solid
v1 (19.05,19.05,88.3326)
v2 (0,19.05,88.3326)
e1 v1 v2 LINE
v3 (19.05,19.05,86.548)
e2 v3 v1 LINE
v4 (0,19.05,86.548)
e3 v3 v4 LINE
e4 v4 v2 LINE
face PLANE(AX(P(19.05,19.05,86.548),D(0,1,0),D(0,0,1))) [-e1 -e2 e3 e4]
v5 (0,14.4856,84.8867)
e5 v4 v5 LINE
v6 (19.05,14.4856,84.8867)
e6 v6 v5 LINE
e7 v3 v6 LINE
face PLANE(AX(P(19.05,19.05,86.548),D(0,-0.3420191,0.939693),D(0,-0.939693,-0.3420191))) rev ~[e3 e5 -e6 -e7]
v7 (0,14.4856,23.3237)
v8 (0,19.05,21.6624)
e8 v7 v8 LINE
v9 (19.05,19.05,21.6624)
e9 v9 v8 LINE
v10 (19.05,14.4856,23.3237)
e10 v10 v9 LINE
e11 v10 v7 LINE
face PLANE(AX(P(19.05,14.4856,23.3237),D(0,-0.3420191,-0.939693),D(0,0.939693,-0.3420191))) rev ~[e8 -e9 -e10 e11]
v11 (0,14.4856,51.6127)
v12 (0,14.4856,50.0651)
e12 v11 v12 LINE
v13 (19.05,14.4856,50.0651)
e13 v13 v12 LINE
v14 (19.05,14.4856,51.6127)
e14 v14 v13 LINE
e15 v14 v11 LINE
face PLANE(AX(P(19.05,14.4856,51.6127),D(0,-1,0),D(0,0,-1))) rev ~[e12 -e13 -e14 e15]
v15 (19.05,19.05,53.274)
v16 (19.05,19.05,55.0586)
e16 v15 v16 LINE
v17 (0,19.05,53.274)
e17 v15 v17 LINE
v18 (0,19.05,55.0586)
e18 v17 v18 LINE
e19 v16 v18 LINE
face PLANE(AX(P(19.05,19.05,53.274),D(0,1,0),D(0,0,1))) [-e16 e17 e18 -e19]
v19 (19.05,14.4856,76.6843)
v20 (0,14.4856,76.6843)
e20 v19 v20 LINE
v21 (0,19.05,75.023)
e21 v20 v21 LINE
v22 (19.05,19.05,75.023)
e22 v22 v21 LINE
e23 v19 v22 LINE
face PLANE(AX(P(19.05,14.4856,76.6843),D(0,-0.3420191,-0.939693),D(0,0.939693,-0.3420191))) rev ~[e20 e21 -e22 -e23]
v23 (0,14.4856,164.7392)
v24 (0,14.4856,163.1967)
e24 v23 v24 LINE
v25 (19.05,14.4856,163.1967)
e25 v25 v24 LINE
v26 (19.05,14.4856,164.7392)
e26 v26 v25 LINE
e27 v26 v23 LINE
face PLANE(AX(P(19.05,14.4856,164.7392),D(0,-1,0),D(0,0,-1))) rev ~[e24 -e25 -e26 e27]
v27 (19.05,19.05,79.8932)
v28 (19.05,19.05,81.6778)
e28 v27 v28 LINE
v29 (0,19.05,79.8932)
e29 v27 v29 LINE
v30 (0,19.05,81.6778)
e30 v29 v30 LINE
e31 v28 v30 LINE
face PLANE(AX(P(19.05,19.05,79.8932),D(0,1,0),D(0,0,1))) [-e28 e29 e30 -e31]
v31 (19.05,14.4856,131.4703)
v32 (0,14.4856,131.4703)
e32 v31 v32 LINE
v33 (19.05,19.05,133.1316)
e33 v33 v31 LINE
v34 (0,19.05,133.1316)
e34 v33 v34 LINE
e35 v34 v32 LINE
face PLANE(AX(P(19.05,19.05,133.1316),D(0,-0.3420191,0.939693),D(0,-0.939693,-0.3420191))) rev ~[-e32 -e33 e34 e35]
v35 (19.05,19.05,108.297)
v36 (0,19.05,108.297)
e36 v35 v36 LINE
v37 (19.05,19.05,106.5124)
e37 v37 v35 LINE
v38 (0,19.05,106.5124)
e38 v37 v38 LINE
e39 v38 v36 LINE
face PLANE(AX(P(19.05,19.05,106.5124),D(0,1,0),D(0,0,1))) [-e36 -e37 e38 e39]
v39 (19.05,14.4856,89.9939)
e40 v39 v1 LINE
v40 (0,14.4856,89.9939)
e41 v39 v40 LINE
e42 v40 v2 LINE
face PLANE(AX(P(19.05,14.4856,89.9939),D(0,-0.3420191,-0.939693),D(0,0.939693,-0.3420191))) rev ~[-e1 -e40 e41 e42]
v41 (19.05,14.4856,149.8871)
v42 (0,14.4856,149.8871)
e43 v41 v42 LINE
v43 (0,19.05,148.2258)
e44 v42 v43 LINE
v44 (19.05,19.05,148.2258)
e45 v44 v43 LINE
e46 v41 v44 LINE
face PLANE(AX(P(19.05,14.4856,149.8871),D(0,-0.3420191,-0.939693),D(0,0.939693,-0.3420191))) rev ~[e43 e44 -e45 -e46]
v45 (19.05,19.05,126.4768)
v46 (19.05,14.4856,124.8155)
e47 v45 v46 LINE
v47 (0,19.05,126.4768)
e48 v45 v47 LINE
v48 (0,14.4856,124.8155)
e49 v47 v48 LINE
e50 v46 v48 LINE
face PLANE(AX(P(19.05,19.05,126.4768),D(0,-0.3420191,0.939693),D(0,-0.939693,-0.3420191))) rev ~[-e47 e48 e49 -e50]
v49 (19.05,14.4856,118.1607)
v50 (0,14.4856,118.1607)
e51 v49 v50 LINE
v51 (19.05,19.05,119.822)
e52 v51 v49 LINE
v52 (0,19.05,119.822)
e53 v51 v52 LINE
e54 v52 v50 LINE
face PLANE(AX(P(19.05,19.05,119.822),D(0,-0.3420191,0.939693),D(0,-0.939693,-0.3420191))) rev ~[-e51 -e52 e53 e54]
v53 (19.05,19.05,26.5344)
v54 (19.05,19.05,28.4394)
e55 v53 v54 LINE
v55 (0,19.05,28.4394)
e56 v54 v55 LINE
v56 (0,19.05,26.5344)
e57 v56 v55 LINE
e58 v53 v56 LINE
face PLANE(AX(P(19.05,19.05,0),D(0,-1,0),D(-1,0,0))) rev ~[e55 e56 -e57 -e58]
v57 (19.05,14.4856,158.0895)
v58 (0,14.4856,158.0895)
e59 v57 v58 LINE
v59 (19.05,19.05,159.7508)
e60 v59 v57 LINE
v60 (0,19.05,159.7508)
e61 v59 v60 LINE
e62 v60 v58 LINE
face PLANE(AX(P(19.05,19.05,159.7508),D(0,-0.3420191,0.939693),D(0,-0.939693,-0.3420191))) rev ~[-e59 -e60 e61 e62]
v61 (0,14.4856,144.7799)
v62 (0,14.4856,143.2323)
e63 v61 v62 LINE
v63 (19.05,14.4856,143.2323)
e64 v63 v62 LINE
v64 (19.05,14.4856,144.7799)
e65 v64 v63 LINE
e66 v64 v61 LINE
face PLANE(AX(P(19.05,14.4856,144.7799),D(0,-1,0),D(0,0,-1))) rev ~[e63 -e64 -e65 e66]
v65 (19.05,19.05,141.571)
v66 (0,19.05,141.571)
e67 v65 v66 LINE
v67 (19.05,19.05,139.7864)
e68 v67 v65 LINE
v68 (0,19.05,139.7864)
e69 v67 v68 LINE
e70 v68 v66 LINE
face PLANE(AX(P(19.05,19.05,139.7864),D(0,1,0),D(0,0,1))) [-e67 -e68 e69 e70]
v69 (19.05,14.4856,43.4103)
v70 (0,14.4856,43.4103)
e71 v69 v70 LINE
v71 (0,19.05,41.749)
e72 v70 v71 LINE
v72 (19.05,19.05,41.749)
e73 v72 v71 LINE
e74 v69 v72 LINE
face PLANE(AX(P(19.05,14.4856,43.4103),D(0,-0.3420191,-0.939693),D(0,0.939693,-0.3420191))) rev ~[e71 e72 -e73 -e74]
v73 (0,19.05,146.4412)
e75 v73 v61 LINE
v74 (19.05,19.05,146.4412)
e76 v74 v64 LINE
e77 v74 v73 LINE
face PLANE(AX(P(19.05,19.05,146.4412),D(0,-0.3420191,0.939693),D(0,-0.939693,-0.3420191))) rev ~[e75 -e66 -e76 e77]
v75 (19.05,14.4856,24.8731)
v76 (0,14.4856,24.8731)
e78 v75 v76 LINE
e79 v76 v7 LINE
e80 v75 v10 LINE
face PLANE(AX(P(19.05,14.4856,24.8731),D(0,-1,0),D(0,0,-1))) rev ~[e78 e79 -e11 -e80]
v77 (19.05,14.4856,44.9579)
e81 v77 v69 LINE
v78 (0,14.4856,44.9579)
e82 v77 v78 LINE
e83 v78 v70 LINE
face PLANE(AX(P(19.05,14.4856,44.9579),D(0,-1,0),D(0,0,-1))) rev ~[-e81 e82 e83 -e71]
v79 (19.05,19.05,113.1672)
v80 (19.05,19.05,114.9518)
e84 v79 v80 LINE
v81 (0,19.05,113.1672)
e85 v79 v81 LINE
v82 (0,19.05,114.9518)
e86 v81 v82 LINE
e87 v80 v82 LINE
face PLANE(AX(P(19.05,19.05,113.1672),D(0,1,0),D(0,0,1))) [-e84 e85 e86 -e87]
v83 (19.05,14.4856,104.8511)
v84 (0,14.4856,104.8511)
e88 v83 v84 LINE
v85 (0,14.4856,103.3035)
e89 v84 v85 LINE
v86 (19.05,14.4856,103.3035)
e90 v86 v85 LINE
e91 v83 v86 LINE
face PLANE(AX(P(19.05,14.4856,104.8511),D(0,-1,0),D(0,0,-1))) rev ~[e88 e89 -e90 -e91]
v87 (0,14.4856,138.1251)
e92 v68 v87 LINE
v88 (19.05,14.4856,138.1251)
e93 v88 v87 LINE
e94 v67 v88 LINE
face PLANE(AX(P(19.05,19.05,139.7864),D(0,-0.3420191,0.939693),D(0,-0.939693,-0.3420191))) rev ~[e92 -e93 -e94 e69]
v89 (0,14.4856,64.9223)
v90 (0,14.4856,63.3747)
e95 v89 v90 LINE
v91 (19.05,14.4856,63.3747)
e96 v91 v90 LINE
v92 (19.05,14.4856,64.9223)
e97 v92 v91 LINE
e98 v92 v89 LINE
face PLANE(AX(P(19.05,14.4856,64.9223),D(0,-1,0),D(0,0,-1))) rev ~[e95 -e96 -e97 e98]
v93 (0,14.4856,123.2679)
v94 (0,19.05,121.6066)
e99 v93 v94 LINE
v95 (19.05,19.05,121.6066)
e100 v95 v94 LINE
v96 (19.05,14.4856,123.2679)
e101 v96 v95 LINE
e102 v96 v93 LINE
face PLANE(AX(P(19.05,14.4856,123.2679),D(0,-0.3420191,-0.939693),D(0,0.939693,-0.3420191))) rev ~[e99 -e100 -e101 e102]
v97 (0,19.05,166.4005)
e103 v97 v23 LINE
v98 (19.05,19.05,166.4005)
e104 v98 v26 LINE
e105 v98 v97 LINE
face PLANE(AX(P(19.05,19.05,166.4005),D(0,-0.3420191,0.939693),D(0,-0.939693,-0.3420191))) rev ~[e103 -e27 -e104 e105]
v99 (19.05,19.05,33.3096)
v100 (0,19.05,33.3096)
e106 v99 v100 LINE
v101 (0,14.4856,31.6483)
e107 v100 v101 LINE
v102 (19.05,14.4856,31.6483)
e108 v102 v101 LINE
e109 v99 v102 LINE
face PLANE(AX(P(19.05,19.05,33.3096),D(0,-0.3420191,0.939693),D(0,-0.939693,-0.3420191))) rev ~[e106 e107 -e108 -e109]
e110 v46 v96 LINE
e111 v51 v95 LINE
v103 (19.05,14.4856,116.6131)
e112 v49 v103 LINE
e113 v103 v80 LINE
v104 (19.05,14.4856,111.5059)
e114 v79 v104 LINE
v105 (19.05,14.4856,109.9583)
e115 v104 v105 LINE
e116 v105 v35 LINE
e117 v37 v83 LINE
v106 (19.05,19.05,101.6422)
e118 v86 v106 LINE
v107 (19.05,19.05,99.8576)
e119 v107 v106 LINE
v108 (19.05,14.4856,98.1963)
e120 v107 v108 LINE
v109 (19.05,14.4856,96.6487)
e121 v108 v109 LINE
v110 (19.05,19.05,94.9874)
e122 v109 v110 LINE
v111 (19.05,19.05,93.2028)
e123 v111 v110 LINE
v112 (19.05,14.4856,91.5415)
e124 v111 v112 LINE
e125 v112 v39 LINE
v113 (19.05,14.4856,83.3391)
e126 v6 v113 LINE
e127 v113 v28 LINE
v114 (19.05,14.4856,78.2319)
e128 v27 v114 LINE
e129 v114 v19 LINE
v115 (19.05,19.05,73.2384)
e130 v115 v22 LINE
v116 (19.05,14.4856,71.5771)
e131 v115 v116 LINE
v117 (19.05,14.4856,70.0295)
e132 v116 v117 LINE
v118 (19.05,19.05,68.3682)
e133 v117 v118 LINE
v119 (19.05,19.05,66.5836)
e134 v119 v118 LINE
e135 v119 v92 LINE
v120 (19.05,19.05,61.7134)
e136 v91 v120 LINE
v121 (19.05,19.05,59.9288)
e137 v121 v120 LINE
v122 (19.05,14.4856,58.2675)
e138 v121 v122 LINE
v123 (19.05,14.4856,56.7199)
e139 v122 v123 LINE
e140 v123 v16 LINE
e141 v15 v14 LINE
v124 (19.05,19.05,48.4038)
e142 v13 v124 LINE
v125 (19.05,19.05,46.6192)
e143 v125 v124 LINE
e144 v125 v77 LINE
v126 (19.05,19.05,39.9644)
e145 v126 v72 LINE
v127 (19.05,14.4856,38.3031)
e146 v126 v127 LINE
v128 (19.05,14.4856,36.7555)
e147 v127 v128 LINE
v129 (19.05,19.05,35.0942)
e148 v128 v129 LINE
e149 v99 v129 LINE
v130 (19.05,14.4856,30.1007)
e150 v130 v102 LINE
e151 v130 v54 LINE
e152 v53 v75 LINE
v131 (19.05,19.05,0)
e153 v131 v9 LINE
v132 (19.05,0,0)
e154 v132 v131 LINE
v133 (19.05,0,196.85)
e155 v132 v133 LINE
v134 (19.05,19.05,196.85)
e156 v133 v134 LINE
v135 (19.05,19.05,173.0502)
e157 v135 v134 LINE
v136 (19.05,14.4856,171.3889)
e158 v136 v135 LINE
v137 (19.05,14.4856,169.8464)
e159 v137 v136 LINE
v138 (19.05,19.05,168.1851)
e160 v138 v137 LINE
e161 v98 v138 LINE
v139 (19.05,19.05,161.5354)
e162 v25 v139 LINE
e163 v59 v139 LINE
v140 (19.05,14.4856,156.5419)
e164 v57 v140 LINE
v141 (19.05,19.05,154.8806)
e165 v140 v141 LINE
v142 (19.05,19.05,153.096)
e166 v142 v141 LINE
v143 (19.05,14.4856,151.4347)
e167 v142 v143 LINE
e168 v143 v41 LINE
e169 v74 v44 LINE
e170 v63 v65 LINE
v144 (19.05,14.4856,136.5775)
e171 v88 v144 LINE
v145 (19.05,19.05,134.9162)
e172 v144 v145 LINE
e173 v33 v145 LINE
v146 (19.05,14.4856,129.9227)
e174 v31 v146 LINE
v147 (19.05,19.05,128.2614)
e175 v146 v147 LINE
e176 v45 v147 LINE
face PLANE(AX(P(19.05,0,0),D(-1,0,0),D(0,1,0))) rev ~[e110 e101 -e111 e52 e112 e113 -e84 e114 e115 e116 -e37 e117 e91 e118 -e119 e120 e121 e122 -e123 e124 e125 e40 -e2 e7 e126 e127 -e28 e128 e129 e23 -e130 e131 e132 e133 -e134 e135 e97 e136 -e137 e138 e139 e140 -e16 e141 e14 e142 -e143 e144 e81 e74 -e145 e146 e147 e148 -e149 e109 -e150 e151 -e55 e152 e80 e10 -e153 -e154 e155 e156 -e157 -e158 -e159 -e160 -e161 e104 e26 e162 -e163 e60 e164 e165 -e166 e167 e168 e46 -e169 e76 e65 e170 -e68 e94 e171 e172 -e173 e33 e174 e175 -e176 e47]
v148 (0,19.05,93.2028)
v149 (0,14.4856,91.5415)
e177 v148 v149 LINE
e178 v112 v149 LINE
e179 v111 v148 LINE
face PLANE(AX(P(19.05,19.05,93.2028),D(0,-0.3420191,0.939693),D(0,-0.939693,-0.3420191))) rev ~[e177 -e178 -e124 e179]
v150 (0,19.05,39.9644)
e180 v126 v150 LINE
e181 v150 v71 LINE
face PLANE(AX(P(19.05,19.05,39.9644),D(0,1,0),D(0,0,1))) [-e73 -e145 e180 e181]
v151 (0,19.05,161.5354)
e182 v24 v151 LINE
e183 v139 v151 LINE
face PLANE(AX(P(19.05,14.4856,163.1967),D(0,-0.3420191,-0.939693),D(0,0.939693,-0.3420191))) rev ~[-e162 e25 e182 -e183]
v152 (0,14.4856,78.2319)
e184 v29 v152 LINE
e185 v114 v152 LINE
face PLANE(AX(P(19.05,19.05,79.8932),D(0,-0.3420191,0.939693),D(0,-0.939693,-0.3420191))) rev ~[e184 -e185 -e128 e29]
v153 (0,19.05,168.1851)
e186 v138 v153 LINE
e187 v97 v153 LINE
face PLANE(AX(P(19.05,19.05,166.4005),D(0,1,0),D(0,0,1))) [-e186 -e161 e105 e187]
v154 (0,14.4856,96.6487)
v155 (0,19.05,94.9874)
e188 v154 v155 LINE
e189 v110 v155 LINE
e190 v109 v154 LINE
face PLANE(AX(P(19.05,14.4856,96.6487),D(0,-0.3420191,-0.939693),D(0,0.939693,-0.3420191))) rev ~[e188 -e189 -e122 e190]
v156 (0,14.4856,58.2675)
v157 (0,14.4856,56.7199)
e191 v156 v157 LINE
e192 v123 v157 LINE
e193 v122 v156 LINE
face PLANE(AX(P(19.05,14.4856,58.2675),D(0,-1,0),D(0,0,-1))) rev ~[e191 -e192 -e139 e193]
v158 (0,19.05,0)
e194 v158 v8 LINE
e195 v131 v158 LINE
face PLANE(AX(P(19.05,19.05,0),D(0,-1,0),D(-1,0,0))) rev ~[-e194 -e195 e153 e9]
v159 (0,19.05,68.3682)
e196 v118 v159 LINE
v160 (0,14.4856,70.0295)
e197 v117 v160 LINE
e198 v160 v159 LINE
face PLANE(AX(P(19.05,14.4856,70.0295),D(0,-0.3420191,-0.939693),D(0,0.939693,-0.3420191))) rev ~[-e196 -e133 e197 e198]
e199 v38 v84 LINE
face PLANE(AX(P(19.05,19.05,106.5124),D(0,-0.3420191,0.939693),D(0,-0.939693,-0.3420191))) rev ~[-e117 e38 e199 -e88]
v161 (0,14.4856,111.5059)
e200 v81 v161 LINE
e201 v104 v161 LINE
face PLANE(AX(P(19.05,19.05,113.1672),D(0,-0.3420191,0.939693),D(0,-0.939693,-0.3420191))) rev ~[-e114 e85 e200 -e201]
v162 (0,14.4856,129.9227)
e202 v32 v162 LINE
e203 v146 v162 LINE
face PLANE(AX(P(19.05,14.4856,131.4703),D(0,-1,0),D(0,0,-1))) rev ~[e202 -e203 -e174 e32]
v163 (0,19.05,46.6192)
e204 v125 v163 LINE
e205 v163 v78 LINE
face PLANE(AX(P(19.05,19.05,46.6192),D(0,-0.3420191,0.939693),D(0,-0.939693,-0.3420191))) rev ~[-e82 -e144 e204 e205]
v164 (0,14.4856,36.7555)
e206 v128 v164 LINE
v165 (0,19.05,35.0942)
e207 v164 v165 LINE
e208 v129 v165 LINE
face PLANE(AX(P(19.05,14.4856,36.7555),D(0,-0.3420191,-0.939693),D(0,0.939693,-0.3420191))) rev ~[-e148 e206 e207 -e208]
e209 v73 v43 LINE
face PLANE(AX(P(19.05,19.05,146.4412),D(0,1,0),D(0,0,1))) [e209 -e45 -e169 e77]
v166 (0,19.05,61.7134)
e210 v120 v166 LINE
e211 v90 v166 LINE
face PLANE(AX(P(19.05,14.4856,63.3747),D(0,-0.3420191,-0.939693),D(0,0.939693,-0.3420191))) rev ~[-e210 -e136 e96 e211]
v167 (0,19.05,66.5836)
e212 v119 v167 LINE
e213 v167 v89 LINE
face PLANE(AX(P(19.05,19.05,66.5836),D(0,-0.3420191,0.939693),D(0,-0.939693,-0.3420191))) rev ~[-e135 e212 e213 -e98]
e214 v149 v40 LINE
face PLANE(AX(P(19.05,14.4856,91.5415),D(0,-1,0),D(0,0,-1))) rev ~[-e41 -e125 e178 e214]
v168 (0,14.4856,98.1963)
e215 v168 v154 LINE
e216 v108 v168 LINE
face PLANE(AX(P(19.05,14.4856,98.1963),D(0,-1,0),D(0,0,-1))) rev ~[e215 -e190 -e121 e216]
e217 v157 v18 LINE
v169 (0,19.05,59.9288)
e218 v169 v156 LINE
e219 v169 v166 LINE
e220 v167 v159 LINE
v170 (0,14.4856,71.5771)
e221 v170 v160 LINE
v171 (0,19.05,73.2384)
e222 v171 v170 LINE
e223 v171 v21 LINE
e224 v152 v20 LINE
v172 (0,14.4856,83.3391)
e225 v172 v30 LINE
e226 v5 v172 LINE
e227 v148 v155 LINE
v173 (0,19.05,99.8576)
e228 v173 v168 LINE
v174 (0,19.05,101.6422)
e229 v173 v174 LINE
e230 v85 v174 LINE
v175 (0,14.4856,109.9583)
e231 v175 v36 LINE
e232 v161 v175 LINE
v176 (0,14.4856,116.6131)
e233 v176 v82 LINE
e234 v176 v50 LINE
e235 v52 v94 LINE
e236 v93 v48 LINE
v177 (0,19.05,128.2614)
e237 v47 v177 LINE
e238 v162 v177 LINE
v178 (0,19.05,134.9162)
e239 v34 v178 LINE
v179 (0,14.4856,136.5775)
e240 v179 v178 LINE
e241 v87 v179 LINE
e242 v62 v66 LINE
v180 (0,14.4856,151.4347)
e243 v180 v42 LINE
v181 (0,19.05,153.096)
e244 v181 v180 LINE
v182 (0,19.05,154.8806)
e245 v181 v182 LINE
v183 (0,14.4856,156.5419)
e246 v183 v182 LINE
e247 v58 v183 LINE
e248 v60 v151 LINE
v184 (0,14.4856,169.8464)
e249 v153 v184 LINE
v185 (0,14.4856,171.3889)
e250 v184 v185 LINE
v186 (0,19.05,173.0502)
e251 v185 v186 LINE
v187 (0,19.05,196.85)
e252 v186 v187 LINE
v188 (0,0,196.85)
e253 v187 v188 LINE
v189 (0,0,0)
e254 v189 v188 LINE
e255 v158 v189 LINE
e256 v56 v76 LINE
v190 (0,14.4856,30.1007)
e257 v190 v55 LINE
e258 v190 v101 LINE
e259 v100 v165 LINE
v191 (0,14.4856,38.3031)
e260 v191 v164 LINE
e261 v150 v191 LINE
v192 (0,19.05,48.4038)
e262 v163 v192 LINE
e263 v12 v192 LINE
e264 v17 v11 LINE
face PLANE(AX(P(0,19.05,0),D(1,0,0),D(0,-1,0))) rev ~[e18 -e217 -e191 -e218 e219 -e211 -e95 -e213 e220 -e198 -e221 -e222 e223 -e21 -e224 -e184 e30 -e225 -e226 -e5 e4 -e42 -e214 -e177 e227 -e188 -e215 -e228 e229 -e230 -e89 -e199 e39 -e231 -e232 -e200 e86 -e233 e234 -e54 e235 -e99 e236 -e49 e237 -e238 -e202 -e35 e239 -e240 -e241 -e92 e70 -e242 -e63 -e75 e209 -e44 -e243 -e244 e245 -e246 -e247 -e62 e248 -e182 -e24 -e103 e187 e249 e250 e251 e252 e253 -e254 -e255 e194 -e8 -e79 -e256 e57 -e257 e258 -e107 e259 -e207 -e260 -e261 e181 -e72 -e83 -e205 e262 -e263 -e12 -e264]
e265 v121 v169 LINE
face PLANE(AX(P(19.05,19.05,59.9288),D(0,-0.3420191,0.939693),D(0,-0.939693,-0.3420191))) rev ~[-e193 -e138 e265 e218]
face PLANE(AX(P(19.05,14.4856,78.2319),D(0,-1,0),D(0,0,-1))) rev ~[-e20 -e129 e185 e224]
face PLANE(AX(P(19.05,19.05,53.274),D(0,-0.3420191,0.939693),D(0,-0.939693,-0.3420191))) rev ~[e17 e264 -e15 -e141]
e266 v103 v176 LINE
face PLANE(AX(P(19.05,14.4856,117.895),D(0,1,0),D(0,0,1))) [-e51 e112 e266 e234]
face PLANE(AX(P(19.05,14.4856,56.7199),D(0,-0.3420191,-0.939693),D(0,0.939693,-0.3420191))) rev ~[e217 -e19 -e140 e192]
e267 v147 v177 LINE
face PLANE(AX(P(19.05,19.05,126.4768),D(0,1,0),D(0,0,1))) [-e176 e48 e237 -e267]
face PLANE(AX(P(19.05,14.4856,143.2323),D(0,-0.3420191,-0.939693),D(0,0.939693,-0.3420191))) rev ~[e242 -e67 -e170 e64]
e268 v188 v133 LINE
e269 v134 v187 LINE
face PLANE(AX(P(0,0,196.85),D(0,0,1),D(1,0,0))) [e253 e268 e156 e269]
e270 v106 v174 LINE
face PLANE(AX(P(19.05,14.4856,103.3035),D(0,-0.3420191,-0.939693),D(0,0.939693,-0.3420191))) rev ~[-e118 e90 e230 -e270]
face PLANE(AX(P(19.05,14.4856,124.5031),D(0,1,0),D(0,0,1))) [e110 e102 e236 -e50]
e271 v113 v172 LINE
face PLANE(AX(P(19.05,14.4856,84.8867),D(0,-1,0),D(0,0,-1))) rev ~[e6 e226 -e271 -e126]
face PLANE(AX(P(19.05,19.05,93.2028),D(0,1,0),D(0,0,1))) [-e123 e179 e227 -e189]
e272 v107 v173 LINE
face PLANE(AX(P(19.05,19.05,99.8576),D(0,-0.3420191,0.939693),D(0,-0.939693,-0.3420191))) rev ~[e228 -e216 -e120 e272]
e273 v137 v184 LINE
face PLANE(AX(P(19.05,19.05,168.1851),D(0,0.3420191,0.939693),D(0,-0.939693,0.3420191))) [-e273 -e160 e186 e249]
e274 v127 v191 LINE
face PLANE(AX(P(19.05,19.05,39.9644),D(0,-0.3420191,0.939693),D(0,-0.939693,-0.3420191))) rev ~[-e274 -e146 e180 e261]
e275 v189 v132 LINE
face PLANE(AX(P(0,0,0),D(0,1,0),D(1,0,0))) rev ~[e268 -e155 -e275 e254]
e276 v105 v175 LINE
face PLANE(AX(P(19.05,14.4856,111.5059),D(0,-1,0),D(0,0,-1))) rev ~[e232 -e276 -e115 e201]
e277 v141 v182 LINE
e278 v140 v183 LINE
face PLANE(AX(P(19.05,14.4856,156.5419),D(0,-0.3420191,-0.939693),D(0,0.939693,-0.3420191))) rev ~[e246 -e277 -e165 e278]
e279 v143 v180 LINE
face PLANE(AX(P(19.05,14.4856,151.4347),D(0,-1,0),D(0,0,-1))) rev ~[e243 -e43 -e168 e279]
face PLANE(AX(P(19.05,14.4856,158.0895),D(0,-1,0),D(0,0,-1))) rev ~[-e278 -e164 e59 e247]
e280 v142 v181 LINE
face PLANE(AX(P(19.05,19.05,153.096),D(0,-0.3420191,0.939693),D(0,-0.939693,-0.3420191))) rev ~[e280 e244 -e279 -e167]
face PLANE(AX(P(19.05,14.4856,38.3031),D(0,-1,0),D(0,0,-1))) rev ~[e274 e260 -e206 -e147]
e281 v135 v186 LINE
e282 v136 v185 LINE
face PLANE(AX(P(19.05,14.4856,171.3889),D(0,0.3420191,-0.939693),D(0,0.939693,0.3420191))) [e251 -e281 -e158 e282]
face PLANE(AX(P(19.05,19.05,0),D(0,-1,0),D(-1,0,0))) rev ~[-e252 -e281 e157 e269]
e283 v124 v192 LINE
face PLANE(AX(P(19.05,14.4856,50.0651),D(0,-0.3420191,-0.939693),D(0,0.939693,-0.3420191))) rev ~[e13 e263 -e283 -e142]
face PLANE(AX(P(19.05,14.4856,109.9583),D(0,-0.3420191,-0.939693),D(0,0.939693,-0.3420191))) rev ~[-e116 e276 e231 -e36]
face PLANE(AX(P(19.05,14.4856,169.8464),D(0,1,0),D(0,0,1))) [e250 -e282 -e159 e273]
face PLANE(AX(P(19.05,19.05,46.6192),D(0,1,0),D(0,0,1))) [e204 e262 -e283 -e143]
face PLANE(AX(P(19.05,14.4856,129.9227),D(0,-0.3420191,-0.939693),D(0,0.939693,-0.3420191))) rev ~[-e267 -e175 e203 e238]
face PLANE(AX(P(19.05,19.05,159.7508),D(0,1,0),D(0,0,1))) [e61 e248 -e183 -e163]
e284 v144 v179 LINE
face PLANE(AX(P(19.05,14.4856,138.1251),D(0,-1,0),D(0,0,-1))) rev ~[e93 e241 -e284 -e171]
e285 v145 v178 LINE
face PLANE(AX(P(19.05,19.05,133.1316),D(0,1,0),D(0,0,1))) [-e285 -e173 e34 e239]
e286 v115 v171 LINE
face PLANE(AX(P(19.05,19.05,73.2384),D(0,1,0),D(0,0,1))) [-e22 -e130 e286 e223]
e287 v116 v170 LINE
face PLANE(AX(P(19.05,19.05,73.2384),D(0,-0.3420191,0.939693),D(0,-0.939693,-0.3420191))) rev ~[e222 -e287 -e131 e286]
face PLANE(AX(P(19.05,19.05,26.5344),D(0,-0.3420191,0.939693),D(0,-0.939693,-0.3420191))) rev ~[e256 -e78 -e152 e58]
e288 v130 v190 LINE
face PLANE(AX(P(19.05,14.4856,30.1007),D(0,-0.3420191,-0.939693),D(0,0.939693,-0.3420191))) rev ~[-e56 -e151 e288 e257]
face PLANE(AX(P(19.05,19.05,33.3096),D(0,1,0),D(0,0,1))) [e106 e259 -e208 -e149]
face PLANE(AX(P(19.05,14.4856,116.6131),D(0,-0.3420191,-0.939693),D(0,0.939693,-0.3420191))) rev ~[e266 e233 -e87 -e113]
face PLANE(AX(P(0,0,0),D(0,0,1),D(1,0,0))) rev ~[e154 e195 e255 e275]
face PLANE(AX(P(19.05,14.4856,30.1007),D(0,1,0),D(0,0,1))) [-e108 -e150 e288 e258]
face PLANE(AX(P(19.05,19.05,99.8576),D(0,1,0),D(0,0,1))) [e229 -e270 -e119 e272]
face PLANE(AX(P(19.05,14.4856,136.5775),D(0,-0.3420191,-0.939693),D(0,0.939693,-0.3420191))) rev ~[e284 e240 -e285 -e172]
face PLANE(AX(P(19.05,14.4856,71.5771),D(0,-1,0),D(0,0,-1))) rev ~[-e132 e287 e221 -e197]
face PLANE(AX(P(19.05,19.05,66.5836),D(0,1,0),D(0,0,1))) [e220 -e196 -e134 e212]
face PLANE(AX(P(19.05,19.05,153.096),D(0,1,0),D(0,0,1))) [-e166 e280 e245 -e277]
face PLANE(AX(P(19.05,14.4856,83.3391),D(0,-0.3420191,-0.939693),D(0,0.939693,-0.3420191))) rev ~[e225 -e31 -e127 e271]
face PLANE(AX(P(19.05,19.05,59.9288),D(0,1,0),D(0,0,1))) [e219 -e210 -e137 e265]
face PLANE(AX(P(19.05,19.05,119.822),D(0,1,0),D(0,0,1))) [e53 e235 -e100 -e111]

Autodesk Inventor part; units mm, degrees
sketch "Sketch1" plane through (0, 0, 0) normal (0, 0, 1) x (1, 0, 0)
  line L0 (0, 0) -> (19.05, 0)
  line L1 (19.05, 0) -> (19.05, 19.05)
  line L2 (19.05, 19.05) -> (0, 19.05)
  line L3 (0, 19.05) -> (0, 0)
  dimension "d0" = 19.05
  dimension "d1" = 19.05
extrude "Extrusion1" add sketch "Sketch1" along normal blind 196.85
sketch "Sketch2" plane through (19.05, 0, 0) normal (1, 0, 0) x (0, 0, -1)
  line L0 (0, 0) -> (0, 19.05) projected
  line L1 (0, 19.05) -> (-196.85, 19.05) projected
  line L2 (-196.85, 19.05) -> (-196.85, 0) projected
  line L3 (0, 0) -> (-196.85, 0) projected
  line L4 (-168.1851, 19.05) -> (-166.4005, 19.05)
  line L5 (-166.4005, 19.05) -> (-164.7392, 14.4856)
  line L6 (-168.1851, 19.05) -> (-169.8464, 14.4856)
  line L7 (-167.2928, 19.05) -> (-167.2928, 27.5407) construction
  line L8 (-130.1446, 19.8229) -> (-130.1446, 4.5609) construction
  line L9 (-173.4311, 16.9342) -> (-94.8151, 16.9342) construction
  line L10 (-163.1967, 14.4856) -> (-161.5354, 19.05)
  line L11 (-161.5354, 19.05) -> (-159.7508, 19.05)
  line L12 (-159.7508, 19.05) -> (-158.0895, 14.4856)
  line L13 (-164.7392, 14.4856) -> (-163.1967, 14.4856)
  line L14 (-158.0895, 14.4856) -> (-24.9935, 14.4856) construction
  line L15 (-160.6431, 19.05) -> (-160.6431, 25.2679) construction
  line L16 (-169.8464, 14.4856) -> (-171.3889, 14.4856)
  line L17 (-171.3889, 14.4856) -> (-173.0502, 19.05)
  line L18 (-156.5419, 14.4856) -> (-154.8806, 19.05)
  line L19 (-154.8806, 19.05) -> (-153.096, 19.05)
  line L20 (-153.096, 19.05) -> (-151.4347, 14.4856)
  line L21 (-149.8871, 14.4856) -> (-148.2258, 19.05)
  line L22 (-148.2258, 19.05) -> (-146.4412, 19.05)
  line L23 (-146.4412, 19.05) -> (-144.7799, 14.4856)
  line L24 (-143.2323, 14.4856) -> (-141.571, 19.05)
  line L25 (-141.571, 19.05) -> (-139.7864, 19.05)
  line L26 (-139.7864, 19.05) -> (-138.1251, 14.4856)
  line L27 (-136.5775, 14.4856) -> (-134.9162, 19.05)
  line L28 (-134.9162, 19.05) -> (-133.1316, 19.05)
  line L29 (-133.1316, 19.05) -> (-131.4703, 14.4856)
  line L30 (-129.9227, 14.4856) -> (-128.2614, 19.05)
  line L31 (-128.2614, 19.05) -> (-126.4768, 19.05)
  line L32 (-126.4768, 19.05) -> (-124.8155, 14.4856)
  line L33 (-123.2679, 14.4856) -> (-121.6066, 19.05)
  line L34 (-121.6066, 19.05) -> (-119.822, 19.05)
  line L35 (-119.822, 19.05) -> (-118.1607, 14.4856)
  line L36 (-116.6131, 14.4856) -> (-114.9518, 19.05)
  line L37 (-114.9518, 19.05) -> (-113.1672, 19.05)
  line L38 (-113.1672, 19.05) -> (-111.5059, 14.4856)
  line L39 (-109.9583, 14.4856) -> (-108.297, 19.05)
  line L40 (-108.297, 19.05) -> (-106.5124, 19.05)
  line L41 (-106.5124, 19.05) -> (-104.8511, 14.4856)
  line L42 (-103.3035, 14.4856) -> (-101.6422, 19.05)
  line L43 (-101.6422, 19.05) -> (-99.8576, 19.05)
  line L44 (-99.8576, 19.05) -> (-98.1963, 14.4856)
  line L45 (-96.6487, 14.4856) -> (-94.9874, 19.05)
  line L46 (-94.9874, 19.05) -> (-93.2028, 19.05)
  line L47 (-93.2028, 19.05) -> (-91.5415, 14.4856)
  line L48 (-89.9939, 14.4856) -> (-88.3326, 19.05)
  line L49 (-88.3326, 19.05) -> (-86.548, 19.05)
  line L50 (-86.548, 19.05) -> (-84.8867, 14.4856)
  line L51 (-83.3391, 14.4856) -> (-81.6778, 19.05)
  line L52 (-81.6778, 19.05) -> (-79.8932, 19.05)
  line L53 (-79.8932, 19.05) -> (-78.2319, 14.4856)
  line L54 (-76.6843, 14.4856) -> (-75.023, 19.05)
  line L55 (-75.023, 19.05) -> (-73.2384, 19.05)
  line L56 (-73.2384, 19.05) -> (-71.5771, 14.4856)
  line L57 (-70.0295, 14.4856) -> (-68.3682, 19.05)
  line L58 (-68.3682, 19.05) -> (-66.5836, 19.05)
  line L59 (-66.5836, 19.05) -> (-64.9223, 14.4856)
  line L60 (-63.3747, 14.4856) -> (-61.7134, 19.05)
  line L61 (-61.7134, 19.05) -> (-59.9288, 19.05)
  line L62 (-59.9288, 19.05) -> (-58.2675, 14.4856)
  line L63 (-56.7199, 14.4856) -> (-55.0586, 19.05)
  line L64 (-55.0586, 19.05) -> (-53.274, 19.05)
  line L65 (-53.274, 19.05) -> (-51.6127, 14.4856)
  line L66 (-50.0651, 14.4856) -> (-48.4038, 19.05)
  line L67 (-48.4038, 19.05) -> (-46.6192, 19.05)
  line L68 (-46.6192, 19.05) -> (-44.9579, 14.4856)
  line L69 (-43.4103, 14.4856) -> (-41.749, 19.05)
  line L70 (-41.749, 19.05) -> (-39.9644, 19.05)
  line L71 (-39.9644, 19.05) -> (-38.3031, 14.4856)
  line L72 (-36.7555, 14.4856) -> (-35.0942, 19.05)
  line L73 (-35.0942, 19.05) -> (-33.3096, 19.05)
  line L74 (-33.3096, 19.05) -> (-31.6483, 14.4856)
  line L75 (-30.1007, 14.4856) -> (-28.4394, 19.05)
  line L76 (-28.4394, 19.05) -> (-26.6548, 19.05) construction
  line L77 (-26.6548, 19.05) -> (-24.9935, 14.4856) construction
  line L78 (-158.0895, 14.4856) -> (-156.5419, 14.4856)
  line L79 (-151.4347, 14.4856) -> (-149.8871, 14.4856)
  line L80 (-144.7799, 14.4856) -> (-143.2323, 14.4856)
  line L81 (-138.1251, 14.4856) -> (-136.5775, 14.4856)
  line L82 (-131.4703, 14.4856) -> (-129.9227, 14.4856)
  line L83 (-124.5031, 14.4856) -> (-123.2679, 14.4856)
  line L84 (-117.895, 14.4856) -> (-116.6131, 14.4856)
  line L85 (-124.5031, 14.4856) -> (-124.8155, 14.4856)
  line L86 (-117.895, 14.4856) -> (-118.1607, 14.4856)
  line L87 (-111.5059, 14.4856) -> (-109.9583, 14.4856)
  line L88 (-104.8511, 14.4856) -> (-103.3035, 14.4856)
  line L89 (-98.1963, 14.4856) -> (-96.6487, 14.4856)
  line L90 (-91.5415, 14.4856) -> (-89.9939, 14.4856)
  line L91 (-84.8867, 14.4856) -> (-83.3391, 14.4856)
  line L92 (-78.2319, 14.4856) -> (-76.6843, 14.4856)
  line L93 (-71.5771, 14.4856) -> (-70.0295, 14.4856)
  line L94 (-64.9223, 14.4856) -> (-63.3747, 14.4856)
  line L95 (-58.2675, 14.4856) -> (-56.7199, 14.4856)
  line L96 (-51.6127, 14.4856) -> (-50.0651, 14.4856)
  line L97 (-44.9579, 14.4856) -> (-43.4103, 14.4856)
  line L98 (-30.1007, 14.4856) -> (-31.6483, 14.4856)
  line L99 (-38.3031, 14.4856) -> (-36.7555, 14.4856)
  line L100 (-28.4394, 19.05) -> (0, 19.05)
  line L101 (0, 0) -> (0, 19.05)
  line L102 (0, 0) -> (-196.85, 0)
  line L103 (-196.85, 0) -> (-196.85, 19.05)
  line L104 (-196.85, 19.05) -> (-173.0502, 19.05)
  point P0 (-168.9552, 16.9342)
  point P1 (-165.6304, 16.9342)
  point P2 (-162.3055, 16.9342)
  point P3 (-158.9807, 16.9342)
  point P4 (-172.2801, 16.9342)
  point P5 (-153.9883, 19.05)
  point P6 (-155.6507, 16.9342)
  point P7 (-152.3259, 16.9342)
  point P8 (-147.3335, 19.05)
  point P9 (-148.9959, 16.9342)
  point P10 (-145.6711, 16.9342)
  point P11 (-140.6787, 19.05)
  point P12 (-142.3411, 16.9342)
  point P13 (-139.0163, 16.9342)
  point P14 (-134.0239, 19.05)
  point P15 (-135.6863, 16.9342)
  point P16 (-132.3615, 16.9342)
  point P17 (-127.3691, 19.05)
  point P18 (-129.0315, 16.9342)
  point P19 (-125.7067, 16.9342)
  point P20 (-120.7143, 19.05)
  point P21 (-122.3767, 16.9342)
  point P22 (-119.0519, 16.9342)
  point P23 (-114.0595, 19.05)
  point P24 (-115.7219, 16.9342)
  point P25 (-112.3971, 16.9342)
  point P26 (-107.4047, 19.05)
  point P27 (-109.0671, 16.9342)
  point P28 (-105.7423, 16.9342)
  point P29 (-100.7499, 19.05)
  point P30 (-102.4123, 16.9342)
  point P31 (-99.0875, 16.9342)
  point P32 (-94.0951, 19.05)
  point P33 (-95.7575, 16.9342)
  point P34 (-92.4327, 16.9342)
  point P35 (-87.4403, 19.05)
  point P36 (-89.1027, 16.9342)
  point P37 (-85.7779, 16.9342)
  point P38 (-80.7855, 19.05)
  point P39 (-82.4479, 16.9342)
  point P40 (-79.1231, 16.9342)
  point P41 (-74.1307, 19.05)
  point P42 (-75.7931, 16.9342)
  point P43 (-72.4683, 16.9342)
  point P44 (-67.4759, 19.05)
  point P45 (-69.1383, 16.9342)
  point P46 (-65.8135, 16.9342)
  point P47 (-60.8211, 19.05)
  point P48 (-62.4835, 16.9342)
  point P49 (-59.1587, 16.9342)
  point P50 (-54.1663, 19.05)
  point P51 (-55.8287, 16.9342)
  point P52 (-52.5039, 16.9342)
  point P53 (-47.5115, 19.05)
  point P54 (-49.1739, 16.9342)
  point P55 (-45.8491, 16.9342)
  point P56 (-40.8567, 19.05)
  point P57 (-42.5191, 16.9342)
  point P58 (-39.1943, 16.9342)
  point P59 (-34.2019, 19.05)
  point P60 (-35.8643, 16.9342)
  point P61 (-32.5395, 16.9342)
  point P62 (-27.5471, 19.05)
  point P63 (-29.2095, 16.9342)
  point P64 (-25.8847, 16.9342)
  dimension "d5" = 2.1158
  dimension "d6" = 20
  dimension "d7" = 20
  dimension "d11" = 6.6497
  dimension "d12" = 3.3249
  dimension "d13" = 3.3249
  dimension "d14" = 3.3249
  dimension "d15" = 23.7998
  dimension "d16" = 2.4486
  dimension "d19" = 6.6548
extrude "Extrusion2" cut sketch "Sketch2" against normal through all contours L3 L2 L1 L17 L16 L6 L5 L13 L10 L12 L78 L18 L20 L79 L21 L23 L80 L24 L26 L81 L27 L29 L82 L30 L32 L85 L83 L33 L35 L86 L84 L36 L38 L87 L39 L41 L88 L42 L44 L89 L45 L47 L90 L48 L50 L91 L51 L53 L92 L54 L56 L93 L57 L59 L94 L60 L62 L95 L63 L65 L96 L66 L68 L97 L69 L71 L99 L72 L74 L98 L75 L0 keep common part
sketch "Sketch5" plane through (19.05, 0, 196.85) normal (1, 0, 0) x (0, 0, -1)
  line L0 (126.8205, 14.4856) -> (128.4818, 19.05) projected
  line L1 (125.2729, 14.4856) -> (126.8205, 14.4856) projected
  line L2 (123.6116, 19.05) -> (125.2729, 14.4856) projected
  line L3 (123.6116, 19.05) -> (121.827, 19.05) projected
  line L4 (120.1657, 14.4856) -> (121.827, 19.05) projected
  line L5 (118.6181, 14.4856) -> (120.1657, 14.4856) projected
  line L6 (116.9568, 19.05) -> (118.6181, 14.4856) projected
  line L7 (116.9568, 19.05) -> (115.1722, 19.05) projected
  line L8 (113.5109, 14.4856) -> (115.1722, 19.05) projected
  line L9 (111.9633, 14.4856) -> (113.5109, 14.4856) projected
  line L10 (110.302, 19.05) -> (111.9633, 14.4856) projected
  line L11 (110.302, 19.05) -> (108.5174, 19.05) projected
  line L12 (106.8561, 14.4856) -> (108.5174, 19.05) projected
  line L13 (105.3085, 14.4856) -> (106.8561, 14.4856) projected
  line L14 (103.6472, 19.05) -> (105.3085, 14.4856) projected
  line L15 (103.6472, 19.05) -> (101.8626, 19.05) projected
  line L16 (100.2013, 14.4856) -> (101.8626, 19.05) projected
  line L17 (98.6537, 14.4856) -> (100.2013, 14.4856) projected
  line L18 (96.9924, 19.05) -> (98.6537, 14.4856) projected
  line L19 (96.9924, 19.05) -> (95.2078, 19.05) projected
  line L20 (93.5465, 14.4856) -> (95.2078, 19.05) projected
  line L21 (91.9989, 14.4856) -> (93.5465, 14.4856) projected
  line L22 (90.3376, 19.05) -> (91.9989, 14.4856) projected
  line L23 (90.3376, 19.05) -> (88.553, 19.05) projected
  line L24 (86.8917, 14.4856) -> (88.553, 19.05) projected
  line L25 (85.3441, 14.4856) -> (86.8917, 14.4856) projected
  line L26 (83.6828, 19.05) -> (85.3441, 14.4856) projected
  line L27 (83.6828, 19.05) -> (81.8982, 19.05) projected
  line L28 (80.2369, 14.4856) -> (81.8982, 19.05) projected
  line L29 (78.6893, 14.4856) -> (80.2369, 14.4856) projected
  line L30 (77.028, 19.05) -> (78.6893, 14.4856) projected
  line L31 (77.028, 19.05) -> (75.2434, 19.05) projected
  line L32 (73.5821, 14.4856) -> (75.2434, 19.05) projected
  line L33 (72.0345, 14.4856) -> (73.5821, 14.4856) projected
  line L34 (70.3732, 19.05) -> (72.0345, 14.4856) projected
  line L35 (70.3732, 19.05) -> (68.5886, 19.05) projected
  line L36 (66.9273, 14.4856) -> (68.5886, 19.05) projected
  line L37 (65.3797, 14.4856) -> (66.9273, 14.4856) projected
  line L38 (63.7184, 19.05) -> (65.3797, 14.4856) projected
  line L39 (63.7184, 19.05) -> (61.9338, 19.05) projected
  line L40 (60.2725, 14.4856) -> (61.9338, 19.05) projected
  line L41 (58.7249, 14.4856) -> (60.2725, 14.4856) projected
  line L42 (57.0636, 19.05) -> (58.7249, 14.4856) projected
  line L43 (57.0636, 19.05) -> (55.279, 19.05) projected
  line L44 (53.6177, 14.4856) -> (55.279, 19.05) projected
  line L45 (52.0701, 14.4856) -> (53.6177, 14.4856) projected
  line L46 (50.4088, 19.05) -> (52.0701, 14.4856) projected
  line L47 (50.4088, 19.05) -> (48.6242, 19.05) projected
  line L48 (46.9629, 14.4856) -> (48.6242, 19.05) projected
  line L49 (45.4153, 14.4856) -> (46.9629, 14.4856) projected
  line L50 (43.754, 19.05) -> (45.4153, 14.4856) projected
  line L51 (43.754, 19.05) -> (41.9694, 19.05) projected
  line L52 (40.3081, 14.4856) -> (41.9694, 19.05) projected
  line L53 (38.7605, 14.4856) -> (40.3081, 14.4856) projected
  line L54 (37.0992, 19.05) -> (38.7605, 14.4856) projected
  line L55 (37.0992, 19.05) -> (35.3146, 19.05) projected
  line L56 (33.6533, 14.4856) -> (35.3146, 19.05) projected
  line L57 (32.1108, 14.4856) -> (33.6533, 14.4856) projected
  line L58 (30.4495, 19.05) -> (32.1108, 14.4856) projected
  line L59 (30.4495, 19.05) -> (28.6649, 19.05) projected
  line L60 (27.0036, 14.4856) -> (28.6649, 19.05) projected
  line L61 (25.4611, 14.4856) -> (27.0036, 14.4856) projected
  line L62 (23.7998, 19.05) -> (25.4611, 14.4856) projected
  line L63 (23.7998, 19.05) -> (0, 19.05) projected
  line L64 (0, 19.05) -> (0, 0) projected
  line L65 (196.85, 0) -> (0, 0) projected
  line L66 (196.85, 0) -> (196.85, 19.05) projected
  line L67 (196.85, 19.05) -> (168.4106, 19.05) projected
  line L68 (166.7493, 14.4856) -> (168.4106, 19.05) projected
  line L69 (165.2017, 14.4856) -> (166.7493, 14.4856) projected
  line L70 (163.5404, 19.05) -> (165.2017, 14.4856) projected
  line L71 (163.5404, 19.05) -> (161.7558, 19.05) projected
  line L72 (160.0945, 14.4856) -> (161.7558, 19.05) projected
  line L73 (158.5469, 14.4856) -> (160.0945, 14.4856) projected
  line L74 (156.8856, 19.05) -> (158.5469, 14.4856) projected
  line L75 (156.8856, 19.05) -> (155.101, 19.05) projected
  line L76 (153.4397, 14.4856) -> (155.101, 19.05) projected
  line L77 (151.8921, 14.4856) -> (153.4397, 14.4856) projected
  line L78 (150.2308, 19.05) -> (151.8921, 14.4856) projected
  line L79 (150.2308, 19.05) -> (148.4462, 19.05) projected
  line L80 (146.7849, 14.4856) -> (148.4462, 19.05) projected
  line L81 (145.2373, 14.4856) -> (146.7849, 14.4856) projected
  line L82 (143.576, 19.05) -> (145.2373, 14.4856) projected
  line L83 (143.576, 19.05) -> (141.7914, 19.05) projected
  line L84 (140.1301, 14.4856) -> (141.7914, 19.05) projected
  line L85 (138.5825, 14.4856) -> (140.1301, 14.4856) projected
  line L86 (136.9212, 19.05) -> (138.5825, 14.4856) projected
  line L87 (136.9212, 19.05) -> (135.1366, 19.05) projected
  line L88 (133.4753, 14.4856) -> (135.1366, 19.05) projected
  line L89 (131.9277, 14.4856) -> (133.4753, 14.4856) projected
  line L90 (130.2664, 19.05) -> (131.9277, 14.4856) projected
  line L91 (130.2664, 19.05) -> (128.4818, 19.05) projected
  line L92 (168.4106, 19.05) -> (170.3156, 19.05)
  line L93 (170.3156, 19.05) -> (171.9769, 14.4856)
  line L94 (171.9769, 14.4856) -> (173.5263, 14.4856)
  line L95 (173.5263, 14.4856) -> (175.1876, 19.05)
  line L96 (170.3156, 19.05) -> (175.1876, 19.05)
  dimension "d26" = 1.5494
  dimension "d27" = 1.905
extrude "Extrusion3" cut sketch "Sketch5" against normal blind 25.4 contours L67 L95 L94 L93
ref_plane "Work Plane1" through (9.525, 0, 196.85) normal (1, 0, 0) x (0, 0, -1)
ref_plane "Work Plane2" through (0, 0, 98.425) normal (0, 0, -1) x (-1, 0, 0)
sketch "Sketch6" plane through (0, 0, 0) normal (-1, 0, 0) x (0, 0, 1)
  line L0 (28.4394, 19.05) -> (30.1007, 14.4856) projected
  line L1 (30.1007, 14.4856) -> (28.4394, 19.05) projected
  line L2 (22.4325, 16.9342) -> (172.2801, 16.9342)
  dimension "d1" = 19.05
  dimension "d30" = 149.8476
ref_plane "Work Plane3" through (0, 16.9342, 172.2801) normal (0, 1, 0) x (-1, 0, 0)
sketch "Sketch7" plane through (0, 0, 0) normal (-1, 0, 0) x (0, 0, 1)
  line L0 (169.8464, 14.4856) -> (171.3889, 14.4856) projected
  line L1 (169.8464, 14.4856) -> (169.8464, 42.6146)
  line L2 (168.1851, 19.05) -> (169.8464, 14.4856) projected
  point P0 (0, 0)
  dimension "d1" = 19.05
ref_plane "Work Plane4" through (0, 16.9342, 172.2801) normal (0, 0, 1) x (1, 0, 0)
ref_plane "Work Plane5" through (0, 16.7678, 22.4931) normal (0, 0, -1) x (-1, 0, 0)
sketch "Sketch8" plane through (0, 0, 0) normal (-1, 0, 0) x (0, 0, 1)
  line L0 (172.2801, 28.8683) -> (172.2801, 16.9342)
  line L1 (157.4011, 16.9342) -> (157.4011, 0)
  line L2 (37.3775, 0) -> (37.3775, 16.9342)
  line L3 (172.2801, 28.8683) -> (172.2801, 16.9342)
  line L4 (22.4931, 28.8683) -> (22.4931, 16.9342)
  line L5 (22.4931, 16.9342) -> (157.4011, 16.9342)
  line L6 (157.4011, 16.9342) -> (172.2801, 16.9342)
  dimension "d1" = 19.05
  dimension "d32" = 120.0236
sketch "Sketch9" plane through (19.05, 0, 196.85) normal (1, 0, 0) x (0, 0, -1)
  line L0 (24.5699, 28.8683) -> (24.5699, 16.9342) projected
  line L1 (39.4489, 16.9342) -> (39.4489, 0) projected
  line L2 (159.4725, 0) -> (159.4725, 16.9342) projected
  line L3 (174.3569, 28.8683) -> (174.3569, 16.9342) projected
  line L4 (24.5699, 16.9342) -> (174.3569, 16.9342)
  point P0 (196.85, 0)
  dimension "d1" = 19.05
  dimension "d33" = 120.0236
sketch "Sketch10" plane through (19.05, 0, 196.85) normal (1, 0, 0) x (0, 0, -1)
  line L0 (152.5443, 11.2798) -> (167.7772, 11.2798) construction
  line L1 (167.7772, 11.2798) -> (167.7772, 4.5864) construction
  line L2 (167.7772, 4.5864) -> (152.5443, 4.5864) construction
  line L3 (152.5443, 4.5864) -> (152.5443, 11.2798) construction
  point P0 (196.85, 0)
  dimension "d1" = 19.05
ref_plane "Work Plane7" through (19.05, 16.9342, 37.3775) normal (0, 0, -1) x (-1, 0, 0)
equation "\"d13\" = d12"
equation "\"d14\" = d12"
properties part number "RAM" material "Steel, High Strength Low Alloy"
